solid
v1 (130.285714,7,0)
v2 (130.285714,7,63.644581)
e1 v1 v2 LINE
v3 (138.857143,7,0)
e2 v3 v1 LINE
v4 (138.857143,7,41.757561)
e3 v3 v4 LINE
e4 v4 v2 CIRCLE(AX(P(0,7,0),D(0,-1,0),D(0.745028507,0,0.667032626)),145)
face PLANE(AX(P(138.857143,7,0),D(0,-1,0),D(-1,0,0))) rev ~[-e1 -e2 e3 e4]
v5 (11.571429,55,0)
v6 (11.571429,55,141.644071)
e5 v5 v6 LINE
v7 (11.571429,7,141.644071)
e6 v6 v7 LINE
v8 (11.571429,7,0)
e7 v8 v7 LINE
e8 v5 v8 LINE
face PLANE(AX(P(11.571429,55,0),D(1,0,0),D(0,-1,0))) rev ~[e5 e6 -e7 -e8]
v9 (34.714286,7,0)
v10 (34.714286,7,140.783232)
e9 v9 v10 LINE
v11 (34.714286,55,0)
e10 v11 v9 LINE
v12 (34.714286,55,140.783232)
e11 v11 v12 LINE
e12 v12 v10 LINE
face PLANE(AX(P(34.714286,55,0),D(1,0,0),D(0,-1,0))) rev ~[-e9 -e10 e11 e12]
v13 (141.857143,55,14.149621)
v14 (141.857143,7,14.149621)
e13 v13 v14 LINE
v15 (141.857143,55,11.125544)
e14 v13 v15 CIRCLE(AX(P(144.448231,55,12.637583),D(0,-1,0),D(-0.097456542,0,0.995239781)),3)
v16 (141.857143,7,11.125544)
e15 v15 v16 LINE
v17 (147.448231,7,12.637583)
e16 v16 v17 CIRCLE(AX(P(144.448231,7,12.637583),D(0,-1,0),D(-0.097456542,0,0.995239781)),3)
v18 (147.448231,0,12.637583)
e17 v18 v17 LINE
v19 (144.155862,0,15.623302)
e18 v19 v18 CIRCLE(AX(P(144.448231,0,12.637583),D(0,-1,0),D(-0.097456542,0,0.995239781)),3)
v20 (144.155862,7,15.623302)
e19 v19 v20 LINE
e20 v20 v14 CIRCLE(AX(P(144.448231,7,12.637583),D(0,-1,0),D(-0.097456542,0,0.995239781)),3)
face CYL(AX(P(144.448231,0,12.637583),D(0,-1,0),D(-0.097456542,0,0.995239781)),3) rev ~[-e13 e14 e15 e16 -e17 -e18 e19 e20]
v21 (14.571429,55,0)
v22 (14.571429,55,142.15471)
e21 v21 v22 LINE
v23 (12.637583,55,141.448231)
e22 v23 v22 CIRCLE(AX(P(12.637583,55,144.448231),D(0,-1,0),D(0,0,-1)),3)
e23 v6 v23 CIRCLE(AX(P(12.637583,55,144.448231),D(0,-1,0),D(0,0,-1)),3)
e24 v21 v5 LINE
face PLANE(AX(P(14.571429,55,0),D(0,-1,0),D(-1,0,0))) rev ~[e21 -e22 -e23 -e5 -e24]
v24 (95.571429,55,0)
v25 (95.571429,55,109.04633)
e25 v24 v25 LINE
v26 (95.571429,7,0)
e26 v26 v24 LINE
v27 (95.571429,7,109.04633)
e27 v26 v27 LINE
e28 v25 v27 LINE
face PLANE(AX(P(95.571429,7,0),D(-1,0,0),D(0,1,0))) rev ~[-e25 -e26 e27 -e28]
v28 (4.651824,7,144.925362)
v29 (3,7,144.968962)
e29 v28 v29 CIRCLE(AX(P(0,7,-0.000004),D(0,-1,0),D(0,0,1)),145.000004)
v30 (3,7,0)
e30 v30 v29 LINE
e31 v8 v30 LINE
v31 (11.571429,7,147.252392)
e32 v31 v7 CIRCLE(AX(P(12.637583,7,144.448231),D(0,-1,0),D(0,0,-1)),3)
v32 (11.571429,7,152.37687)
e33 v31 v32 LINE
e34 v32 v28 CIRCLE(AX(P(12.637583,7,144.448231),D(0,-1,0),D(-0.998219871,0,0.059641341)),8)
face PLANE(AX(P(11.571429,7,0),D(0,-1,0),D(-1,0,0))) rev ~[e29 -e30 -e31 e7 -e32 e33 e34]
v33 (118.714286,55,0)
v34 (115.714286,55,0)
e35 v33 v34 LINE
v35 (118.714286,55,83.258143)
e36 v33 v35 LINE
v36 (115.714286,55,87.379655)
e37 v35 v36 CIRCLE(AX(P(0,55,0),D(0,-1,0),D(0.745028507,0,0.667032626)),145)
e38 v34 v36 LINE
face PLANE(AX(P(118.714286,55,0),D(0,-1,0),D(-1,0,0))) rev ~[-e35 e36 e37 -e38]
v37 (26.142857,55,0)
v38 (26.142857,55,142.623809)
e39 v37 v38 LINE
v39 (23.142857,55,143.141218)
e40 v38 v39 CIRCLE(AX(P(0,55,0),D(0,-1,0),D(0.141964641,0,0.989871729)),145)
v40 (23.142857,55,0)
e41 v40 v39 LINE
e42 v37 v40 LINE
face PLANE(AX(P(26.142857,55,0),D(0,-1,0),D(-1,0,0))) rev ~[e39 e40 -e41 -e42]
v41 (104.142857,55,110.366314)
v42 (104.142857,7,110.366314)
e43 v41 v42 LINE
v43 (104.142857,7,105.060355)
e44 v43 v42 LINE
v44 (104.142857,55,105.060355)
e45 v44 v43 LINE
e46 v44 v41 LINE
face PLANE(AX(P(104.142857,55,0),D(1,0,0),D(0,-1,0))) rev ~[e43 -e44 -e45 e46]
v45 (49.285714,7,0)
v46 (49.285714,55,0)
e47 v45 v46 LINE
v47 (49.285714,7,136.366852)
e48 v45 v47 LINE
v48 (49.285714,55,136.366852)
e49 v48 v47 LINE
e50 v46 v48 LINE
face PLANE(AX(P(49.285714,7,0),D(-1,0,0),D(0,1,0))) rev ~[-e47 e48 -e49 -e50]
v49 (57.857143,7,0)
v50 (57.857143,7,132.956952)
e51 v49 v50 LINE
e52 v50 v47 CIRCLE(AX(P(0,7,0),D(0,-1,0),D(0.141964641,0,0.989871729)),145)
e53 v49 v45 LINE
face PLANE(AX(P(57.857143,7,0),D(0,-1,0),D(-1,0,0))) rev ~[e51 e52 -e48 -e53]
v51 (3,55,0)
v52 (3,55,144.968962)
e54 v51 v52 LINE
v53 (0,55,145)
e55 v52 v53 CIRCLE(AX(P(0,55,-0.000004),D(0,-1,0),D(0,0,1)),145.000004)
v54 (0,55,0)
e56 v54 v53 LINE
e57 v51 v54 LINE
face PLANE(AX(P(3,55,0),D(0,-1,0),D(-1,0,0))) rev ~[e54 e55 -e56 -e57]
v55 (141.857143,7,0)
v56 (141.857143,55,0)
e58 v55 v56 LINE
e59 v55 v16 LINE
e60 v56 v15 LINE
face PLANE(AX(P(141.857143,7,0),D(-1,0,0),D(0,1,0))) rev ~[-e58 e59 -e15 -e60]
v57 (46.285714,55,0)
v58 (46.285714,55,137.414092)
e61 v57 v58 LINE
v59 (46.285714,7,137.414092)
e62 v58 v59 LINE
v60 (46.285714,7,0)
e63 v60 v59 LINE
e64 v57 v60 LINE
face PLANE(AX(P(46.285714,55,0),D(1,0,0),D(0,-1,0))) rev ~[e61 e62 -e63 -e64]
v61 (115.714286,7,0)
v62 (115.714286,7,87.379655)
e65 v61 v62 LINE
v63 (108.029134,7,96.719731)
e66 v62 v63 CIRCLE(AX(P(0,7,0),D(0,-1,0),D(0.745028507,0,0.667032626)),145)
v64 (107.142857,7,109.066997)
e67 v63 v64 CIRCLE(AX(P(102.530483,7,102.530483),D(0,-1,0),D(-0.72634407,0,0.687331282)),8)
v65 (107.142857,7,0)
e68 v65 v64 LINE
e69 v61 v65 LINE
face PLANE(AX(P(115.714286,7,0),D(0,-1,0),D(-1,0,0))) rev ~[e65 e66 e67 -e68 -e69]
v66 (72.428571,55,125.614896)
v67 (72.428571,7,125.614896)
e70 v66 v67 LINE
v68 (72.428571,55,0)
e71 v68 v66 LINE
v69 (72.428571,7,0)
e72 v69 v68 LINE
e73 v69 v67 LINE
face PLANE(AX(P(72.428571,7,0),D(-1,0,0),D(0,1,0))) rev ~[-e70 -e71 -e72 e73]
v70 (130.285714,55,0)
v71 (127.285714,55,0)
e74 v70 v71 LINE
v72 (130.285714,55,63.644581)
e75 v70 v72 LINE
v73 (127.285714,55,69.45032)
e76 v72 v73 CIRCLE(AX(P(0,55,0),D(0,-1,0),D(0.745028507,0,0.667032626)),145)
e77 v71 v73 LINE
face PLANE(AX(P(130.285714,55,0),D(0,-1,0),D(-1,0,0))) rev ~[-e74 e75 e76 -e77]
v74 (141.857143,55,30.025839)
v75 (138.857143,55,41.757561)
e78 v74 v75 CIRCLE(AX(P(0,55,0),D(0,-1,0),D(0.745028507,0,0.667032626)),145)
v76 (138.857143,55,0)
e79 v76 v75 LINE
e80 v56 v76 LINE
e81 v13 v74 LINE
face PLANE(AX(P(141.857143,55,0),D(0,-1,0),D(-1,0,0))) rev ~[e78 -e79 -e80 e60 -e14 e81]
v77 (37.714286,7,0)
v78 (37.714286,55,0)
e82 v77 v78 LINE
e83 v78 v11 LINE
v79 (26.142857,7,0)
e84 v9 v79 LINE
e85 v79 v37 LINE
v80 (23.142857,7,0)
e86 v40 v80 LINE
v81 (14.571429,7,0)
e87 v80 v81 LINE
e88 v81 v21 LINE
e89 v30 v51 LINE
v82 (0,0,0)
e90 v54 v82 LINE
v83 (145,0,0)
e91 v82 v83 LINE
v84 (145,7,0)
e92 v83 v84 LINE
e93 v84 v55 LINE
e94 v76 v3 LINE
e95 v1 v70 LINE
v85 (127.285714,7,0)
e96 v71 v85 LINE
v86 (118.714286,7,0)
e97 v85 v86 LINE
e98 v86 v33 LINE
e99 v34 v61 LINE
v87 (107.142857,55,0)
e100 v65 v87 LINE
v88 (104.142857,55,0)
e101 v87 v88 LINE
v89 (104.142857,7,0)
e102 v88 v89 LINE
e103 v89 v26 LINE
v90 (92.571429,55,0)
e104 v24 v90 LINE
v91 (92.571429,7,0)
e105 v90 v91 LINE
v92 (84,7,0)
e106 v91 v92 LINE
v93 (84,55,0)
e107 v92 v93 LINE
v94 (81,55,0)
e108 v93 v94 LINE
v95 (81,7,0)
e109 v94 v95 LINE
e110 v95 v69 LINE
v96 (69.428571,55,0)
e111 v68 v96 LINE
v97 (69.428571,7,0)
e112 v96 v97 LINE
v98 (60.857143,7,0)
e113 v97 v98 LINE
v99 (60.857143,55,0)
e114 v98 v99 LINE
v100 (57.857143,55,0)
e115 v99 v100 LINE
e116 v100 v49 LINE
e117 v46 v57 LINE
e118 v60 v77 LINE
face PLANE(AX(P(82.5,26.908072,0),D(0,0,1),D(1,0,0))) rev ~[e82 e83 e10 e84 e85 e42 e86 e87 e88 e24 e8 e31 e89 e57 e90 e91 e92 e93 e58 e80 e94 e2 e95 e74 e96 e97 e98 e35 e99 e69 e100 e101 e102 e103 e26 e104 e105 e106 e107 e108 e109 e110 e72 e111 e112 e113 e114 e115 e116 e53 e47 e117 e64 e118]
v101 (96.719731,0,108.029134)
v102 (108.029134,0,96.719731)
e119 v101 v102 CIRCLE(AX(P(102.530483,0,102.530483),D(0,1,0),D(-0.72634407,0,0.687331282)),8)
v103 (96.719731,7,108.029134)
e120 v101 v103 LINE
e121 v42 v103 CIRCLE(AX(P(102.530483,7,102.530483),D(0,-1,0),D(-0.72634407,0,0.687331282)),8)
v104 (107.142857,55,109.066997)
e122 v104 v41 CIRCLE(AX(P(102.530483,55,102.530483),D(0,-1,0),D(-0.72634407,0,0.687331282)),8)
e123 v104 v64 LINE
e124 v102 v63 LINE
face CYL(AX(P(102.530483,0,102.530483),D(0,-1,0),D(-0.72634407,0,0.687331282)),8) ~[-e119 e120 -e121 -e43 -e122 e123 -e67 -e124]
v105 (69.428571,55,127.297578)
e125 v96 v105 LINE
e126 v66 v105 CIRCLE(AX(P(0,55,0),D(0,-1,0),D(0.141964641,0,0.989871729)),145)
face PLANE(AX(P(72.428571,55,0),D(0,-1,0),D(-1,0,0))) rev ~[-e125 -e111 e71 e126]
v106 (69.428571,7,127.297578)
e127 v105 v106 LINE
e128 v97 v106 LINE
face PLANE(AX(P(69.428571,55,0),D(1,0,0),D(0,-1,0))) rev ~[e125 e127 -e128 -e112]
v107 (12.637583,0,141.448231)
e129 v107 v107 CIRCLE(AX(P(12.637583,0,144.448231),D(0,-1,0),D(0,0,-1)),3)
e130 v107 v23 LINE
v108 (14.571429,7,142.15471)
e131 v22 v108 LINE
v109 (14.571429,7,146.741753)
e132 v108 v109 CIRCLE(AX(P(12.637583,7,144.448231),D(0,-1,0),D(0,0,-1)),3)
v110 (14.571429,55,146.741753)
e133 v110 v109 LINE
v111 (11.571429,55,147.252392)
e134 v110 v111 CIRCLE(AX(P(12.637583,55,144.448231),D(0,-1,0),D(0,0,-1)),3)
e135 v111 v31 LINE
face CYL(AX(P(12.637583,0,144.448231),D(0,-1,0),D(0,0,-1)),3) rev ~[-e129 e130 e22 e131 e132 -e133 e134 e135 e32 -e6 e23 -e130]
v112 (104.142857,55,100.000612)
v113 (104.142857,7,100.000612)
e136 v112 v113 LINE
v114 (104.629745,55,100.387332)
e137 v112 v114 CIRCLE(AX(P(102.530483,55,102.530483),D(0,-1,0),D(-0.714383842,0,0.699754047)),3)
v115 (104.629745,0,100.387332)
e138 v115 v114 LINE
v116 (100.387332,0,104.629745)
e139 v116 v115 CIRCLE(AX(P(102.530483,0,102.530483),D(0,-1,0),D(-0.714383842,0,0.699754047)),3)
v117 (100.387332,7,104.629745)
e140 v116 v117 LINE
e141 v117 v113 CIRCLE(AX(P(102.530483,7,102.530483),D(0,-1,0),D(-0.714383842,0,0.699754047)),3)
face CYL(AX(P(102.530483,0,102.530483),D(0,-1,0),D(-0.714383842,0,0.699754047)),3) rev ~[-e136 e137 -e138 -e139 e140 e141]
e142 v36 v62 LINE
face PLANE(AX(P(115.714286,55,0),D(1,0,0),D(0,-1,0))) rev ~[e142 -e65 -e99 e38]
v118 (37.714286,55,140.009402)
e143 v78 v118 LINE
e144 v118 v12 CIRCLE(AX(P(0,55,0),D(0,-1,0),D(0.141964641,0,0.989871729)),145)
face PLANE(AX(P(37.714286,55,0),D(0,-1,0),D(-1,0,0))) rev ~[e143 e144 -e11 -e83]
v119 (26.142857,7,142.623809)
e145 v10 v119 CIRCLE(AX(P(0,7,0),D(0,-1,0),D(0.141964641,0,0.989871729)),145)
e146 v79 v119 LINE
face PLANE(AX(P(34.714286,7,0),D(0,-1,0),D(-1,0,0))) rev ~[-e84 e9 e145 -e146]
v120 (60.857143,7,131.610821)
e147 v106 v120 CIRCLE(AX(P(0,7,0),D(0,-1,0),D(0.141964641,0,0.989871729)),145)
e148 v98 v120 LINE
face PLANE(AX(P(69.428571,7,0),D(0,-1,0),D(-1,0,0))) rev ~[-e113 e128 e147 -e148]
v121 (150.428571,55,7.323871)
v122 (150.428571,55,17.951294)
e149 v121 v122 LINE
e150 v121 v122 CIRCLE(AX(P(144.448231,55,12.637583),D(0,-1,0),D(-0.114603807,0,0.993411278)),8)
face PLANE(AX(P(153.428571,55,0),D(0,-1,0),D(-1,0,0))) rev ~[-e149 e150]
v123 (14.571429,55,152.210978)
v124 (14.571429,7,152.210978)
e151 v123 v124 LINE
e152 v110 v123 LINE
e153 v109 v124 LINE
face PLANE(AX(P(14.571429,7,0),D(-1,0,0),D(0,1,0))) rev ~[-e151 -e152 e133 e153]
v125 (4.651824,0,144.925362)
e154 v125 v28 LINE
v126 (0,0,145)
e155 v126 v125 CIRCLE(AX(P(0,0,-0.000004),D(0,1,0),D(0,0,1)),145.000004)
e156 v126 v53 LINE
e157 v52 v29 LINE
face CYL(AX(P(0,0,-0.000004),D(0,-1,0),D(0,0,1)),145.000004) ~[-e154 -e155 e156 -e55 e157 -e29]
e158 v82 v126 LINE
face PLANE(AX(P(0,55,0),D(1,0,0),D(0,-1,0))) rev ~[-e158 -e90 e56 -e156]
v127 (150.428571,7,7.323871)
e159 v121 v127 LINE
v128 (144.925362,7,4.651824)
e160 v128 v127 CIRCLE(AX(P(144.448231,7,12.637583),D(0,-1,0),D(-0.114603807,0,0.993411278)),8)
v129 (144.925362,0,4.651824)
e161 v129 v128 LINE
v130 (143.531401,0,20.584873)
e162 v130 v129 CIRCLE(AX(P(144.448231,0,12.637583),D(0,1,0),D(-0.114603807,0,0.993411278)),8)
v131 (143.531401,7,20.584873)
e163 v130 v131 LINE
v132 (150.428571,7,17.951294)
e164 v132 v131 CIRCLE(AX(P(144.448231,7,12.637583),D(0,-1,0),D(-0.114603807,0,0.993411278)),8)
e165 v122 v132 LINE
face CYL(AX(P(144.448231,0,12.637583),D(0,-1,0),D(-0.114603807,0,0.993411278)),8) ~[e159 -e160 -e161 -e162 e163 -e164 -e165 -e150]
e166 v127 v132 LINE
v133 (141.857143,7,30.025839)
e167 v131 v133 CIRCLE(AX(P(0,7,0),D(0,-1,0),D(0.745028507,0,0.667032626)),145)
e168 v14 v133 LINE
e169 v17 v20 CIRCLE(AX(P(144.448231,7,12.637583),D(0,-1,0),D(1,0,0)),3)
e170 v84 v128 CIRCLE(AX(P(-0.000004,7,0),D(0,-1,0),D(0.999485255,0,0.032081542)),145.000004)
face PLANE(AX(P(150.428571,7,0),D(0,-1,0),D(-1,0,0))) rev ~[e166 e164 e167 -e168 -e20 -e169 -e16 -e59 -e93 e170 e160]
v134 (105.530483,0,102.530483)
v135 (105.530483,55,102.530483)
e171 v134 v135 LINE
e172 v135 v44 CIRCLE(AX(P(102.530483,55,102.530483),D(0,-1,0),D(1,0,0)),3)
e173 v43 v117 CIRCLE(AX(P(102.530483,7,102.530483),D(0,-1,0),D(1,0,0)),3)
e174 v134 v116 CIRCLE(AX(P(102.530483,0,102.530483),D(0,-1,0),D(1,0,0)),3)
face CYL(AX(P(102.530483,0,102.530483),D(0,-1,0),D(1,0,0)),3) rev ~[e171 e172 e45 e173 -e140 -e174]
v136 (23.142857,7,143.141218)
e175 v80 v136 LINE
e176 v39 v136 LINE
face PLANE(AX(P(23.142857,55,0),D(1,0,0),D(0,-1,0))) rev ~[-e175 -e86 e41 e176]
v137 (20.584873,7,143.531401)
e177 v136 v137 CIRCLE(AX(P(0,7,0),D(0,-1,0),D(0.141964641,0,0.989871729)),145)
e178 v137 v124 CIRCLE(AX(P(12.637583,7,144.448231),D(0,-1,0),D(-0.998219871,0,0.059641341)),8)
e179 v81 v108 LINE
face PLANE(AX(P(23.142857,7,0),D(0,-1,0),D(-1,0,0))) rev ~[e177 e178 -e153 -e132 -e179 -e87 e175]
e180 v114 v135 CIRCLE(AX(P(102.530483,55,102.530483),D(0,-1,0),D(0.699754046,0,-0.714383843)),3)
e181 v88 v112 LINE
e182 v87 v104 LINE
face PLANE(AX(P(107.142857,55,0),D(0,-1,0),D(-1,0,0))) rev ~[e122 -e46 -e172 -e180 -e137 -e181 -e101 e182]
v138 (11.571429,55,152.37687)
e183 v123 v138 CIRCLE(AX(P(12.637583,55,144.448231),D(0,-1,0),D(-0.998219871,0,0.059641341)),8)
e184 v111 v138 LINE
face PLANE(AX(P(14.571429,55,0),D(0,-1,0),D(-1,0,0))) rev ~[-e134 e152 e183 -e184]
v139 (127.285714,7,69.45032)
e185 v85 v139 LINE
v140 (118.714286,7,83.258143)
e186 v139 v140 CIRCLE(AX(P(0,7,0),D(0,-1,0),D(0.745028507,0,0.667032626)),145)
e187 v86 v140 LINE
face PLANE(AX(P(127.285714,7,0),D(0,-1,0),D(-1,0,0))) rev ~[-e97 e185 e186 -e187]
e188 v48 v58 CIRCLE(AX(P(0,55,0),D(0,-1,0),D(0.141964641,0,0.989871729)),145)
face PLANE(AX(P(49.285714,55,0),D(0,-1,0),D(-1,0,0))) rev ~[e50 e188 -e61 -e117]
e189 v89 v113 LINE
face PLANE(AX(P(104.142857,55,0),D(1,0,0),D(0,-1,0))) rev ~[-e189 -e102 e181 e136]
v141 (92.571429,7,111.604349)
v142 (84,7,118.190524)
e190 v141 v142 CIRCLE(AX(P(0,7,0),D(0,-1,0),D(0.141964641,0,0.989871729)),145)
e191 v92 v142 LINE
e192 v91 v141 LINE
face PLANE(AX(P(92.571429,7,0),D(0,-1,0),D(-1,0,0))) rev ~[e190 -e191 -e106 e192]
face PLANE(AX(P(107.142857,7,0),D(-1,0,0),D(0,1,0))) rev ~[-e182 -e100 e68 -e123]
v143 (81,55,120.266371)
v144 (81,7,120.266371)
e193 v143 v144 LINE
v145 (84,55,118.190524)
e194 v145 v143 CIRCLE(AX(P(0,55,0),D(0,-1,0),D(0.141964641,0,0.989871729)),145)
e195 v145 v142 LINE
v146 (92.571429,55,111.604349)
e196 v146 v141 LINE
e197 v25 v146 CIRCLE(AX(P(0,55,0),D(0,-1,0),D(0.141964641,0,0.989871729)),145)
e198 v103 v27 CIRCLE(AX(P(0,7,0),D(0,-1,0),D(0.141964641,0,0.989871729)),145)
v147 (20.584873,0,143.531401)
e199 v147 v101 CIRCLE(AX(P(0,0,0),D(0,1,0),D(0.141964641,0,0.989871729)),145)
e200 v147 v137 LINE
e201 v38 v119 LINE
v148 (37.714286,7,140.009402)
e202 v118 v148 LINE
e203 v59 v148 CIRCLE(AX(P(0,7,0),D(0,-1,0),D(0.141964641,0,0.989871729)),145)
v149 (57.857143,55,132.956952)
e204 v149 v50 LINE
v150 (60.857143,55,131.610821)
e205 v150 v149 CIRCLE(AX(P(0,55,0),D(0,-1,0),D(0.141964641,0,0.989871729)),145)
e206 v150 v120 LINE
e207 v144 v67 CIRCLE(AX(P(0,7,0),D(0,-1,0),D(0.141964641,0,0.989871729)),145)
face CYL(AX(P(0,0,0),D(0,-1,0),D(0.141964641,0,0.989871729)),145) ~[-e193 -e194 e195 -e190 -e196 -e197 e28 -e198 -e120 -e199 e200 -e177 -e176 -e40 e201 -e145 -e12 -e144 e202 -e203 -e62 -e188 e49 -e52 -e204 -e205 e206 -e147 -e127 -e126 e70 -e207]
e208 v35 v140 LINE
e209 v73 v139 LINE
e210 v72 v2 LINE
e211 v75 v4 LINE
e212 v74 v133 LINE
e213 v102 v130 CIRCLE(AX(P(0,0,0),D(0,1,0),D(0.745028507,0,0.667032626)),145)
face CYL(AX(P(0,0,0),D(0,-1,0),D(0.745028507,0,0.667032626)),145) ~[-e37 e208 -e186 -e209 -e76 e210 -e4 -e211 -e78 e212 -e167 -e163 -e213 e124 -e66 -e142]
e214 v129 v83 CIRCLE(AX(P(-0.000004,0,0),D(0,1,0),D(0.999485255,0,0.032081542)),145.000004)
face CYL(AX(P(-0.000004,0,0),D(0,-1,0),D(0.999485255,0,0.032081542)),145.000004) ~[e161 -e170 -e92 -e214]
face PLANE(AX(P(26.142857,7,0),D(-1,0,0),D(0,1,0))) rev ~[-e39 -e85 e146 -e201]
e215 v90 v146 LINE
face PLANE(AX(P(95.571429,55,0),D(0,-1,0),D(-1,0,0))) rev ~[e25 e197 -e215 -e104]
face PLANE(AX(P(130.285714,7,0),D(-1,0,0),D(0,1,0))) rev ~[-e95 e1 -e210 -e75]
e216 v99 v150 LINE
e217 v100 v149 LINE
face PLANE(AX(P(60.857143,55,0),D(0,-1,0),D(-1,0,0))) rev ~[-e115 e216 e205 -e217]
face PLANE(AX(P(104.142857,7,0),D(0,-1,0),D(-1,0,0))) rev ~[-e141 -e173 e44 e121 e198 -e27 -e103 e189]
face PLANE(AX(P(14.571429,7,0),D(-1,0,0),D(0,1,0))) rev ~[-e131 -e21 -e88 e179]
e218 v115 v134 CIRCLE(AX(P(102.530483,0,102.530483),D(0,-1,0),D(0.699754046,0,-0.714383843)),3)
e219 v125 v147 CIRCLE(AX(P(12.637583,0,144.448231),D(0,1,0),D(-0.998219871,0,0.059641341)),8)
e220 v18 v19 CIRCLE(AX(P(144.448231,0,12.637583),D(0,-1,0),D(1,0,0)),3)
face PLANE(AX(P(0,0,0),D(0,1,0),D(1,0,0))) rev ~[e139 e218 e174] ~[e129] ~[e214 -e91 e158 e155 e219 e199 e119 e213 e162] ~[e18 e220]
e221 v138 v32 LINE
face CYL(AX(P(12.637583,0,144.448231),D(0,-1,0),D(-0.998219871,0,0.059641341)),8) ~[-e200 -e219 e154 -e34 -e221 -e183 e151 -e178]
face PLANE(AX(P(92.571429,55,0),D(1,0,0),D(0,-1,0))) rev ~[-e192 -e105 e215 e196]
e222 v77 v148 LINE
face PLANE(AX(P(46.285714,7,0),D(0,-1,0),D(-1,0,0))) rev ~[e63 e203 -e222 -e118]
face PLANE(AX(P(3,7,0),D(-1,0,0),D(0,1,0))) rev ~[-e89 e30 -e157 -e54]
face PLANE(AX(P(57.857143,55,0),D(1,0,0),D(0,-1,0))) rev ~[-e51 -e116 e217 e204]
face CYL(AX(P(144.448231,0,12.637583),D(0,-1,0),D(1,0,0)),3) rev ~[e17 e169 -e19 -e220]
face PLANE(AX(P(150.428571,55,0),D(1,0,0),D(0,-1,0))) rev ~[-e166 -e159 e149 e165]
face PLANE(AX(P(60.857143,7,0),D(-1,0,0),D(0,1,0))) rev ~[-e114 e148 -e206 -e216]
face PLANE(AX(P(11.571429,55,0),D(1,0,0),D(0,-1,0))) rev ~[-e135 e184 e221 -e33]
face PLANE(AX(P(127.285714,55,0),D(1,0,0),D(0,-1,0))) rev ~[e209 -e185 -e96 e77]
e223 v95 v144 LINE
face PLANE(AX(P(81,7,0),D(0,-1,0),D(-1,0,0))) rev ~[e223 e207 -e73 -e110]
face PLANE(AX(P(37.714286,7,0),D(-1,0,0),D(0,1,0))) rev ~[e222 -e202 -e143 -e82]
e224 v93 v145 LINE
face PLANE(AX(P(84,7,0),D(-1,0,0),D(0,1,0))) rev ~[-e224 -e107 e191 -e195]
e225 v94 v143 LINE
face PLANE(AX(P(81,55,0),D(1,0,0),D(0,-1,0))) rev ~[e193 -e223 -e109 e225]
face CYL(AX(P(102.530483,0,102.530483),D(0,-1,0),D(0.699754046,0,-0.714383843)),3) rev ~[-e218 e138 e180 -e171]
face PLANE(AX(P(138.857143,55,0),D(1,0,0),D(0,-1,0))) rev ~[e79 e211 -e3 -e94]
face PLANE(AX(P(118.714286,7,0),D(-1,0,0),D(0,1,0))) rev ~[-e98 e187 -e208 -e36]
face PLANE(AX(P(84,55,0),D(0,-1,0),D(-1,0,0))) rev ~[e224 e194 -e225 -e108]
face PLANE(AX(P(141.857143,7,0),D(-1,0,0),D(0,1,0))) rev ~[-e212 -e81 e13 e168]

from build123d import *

# Parameters (mm, degrees)
BOSS_EXTRUDE1_DEPTH = 1000
SKETCH2_R           = 3
CUT_EXTRUDE2_DEPTH  = 1016.012315196


with BuildPart() as part:
    # Sketch1 → Boss-Extrude1 (new body)
    with BuildSketch(Plane.XY):
        Polygon((11.571428571, 55), (11.571428571, 7), (3, 7), (3, 55), (0, 55), (0, 7), (0, 0), (165, 0), (165, 7), (165, 10), (165, 55), (162, 55), (162, 7), (153.428571429, 7), (153.428571429, 55), (150.428571429, 55), (150.428571429, 7), (141.857142857, 7), (141.857142857, 55), (138.857142857, 55), (138.857142857, 7), (130.285714286, 7), (130.285714286, 55), (127.285714286, 55), (127.285714286, 7), (118.714285714, 7), (118.714285714, 55), (115.714285714, 55), (115.714285714, 7), (107.142857143, 7), (107.142857143, 55), (104.142857143, 55), (104.142857143, 7), (95.571428571, 7), (95.571428571, 55), (92.571428571, 55), (92.571428571, 7), (84, 7), (84, 55), (81, 55), (81, 7), (72.428571429, 7), (72.428571429, 55), (69.428571429, 55), (69.428571429, 7), (60.857142857, 7), (60.857142857, 55), (57.857142857, 55), (57.857142857, 7), (49.285714286, 7), (49.285714286, 55), (46.285714286, 55), (46.285714286, 7), (37.714285714, 7), (37.714285714, 55), (34.714285714, 55), (34.714285714, 7), (26.142857143, 7), (26.142857143, 55), (23.142857143, 55), (23.142857143, 7), (14.571428571, 7), (14.571428571, 55), align=None)
    extrude(amount=BOSS_EXTRUDE1_DEPTH)

    # Sketch2 → Cut-Extrude2 (cut, through all)
    with BuildSketch(Plane.XZ):
        with BuildLine():
            Line((0, 1000), (0, 145))
            ThreePointArc((0, 145), (2.326211237, 144.981339286), (4.651823732, 144.925361949))
            ThreePointArc((4.651823732, 144.925361949), (13.33482864, 152.417788808), (20.584872923, 143.531400769))
            ThreePointArc((20.584872923, 143.531400769), (61.279647952, 131.41462912), (96.71973071, 108.02913353))
            ThreePointArc((96.71973071, 108.02913353), (108.187337522, 108.187337522), (108.02913353, 96.71973071))
            ThreePointArc((108.02913353, 96.71973071), (131.41462912, 61.279647952), (143.531400769, 20.584872923))
            ThreePointArc((143.531400769, 20.584872923), (152.417788808, 13.33482864), (144.925361949, 4.651823732))
            ThreePointArc((144.925361949, 4.651823732), (144.981339286, 2.326211237), (145, 0))
            Line((145, 0), (165, 0))
            Line((165, 0), (165, 1000))
            Line((165, 1000), (0, 1000))
        make_face()
        with BuildLine():
            ThreePointArc((144.678768073, 9.646453687), (146.649550209, 10.599398525), (147.448231223, 12.637582698))
            ThreePointArc((147.448231223, 12.637582698), (146.46353407, 14.859868557), (144.155861599, 15.623302043))
            ThreePointArc((144.155861599, 15.623302043), (144.448231223, 12.637582698), (144.678768073, 9.646453687))
        make_face()
        with BuildLine():
            ThreePointArc((144.678768073, 9.646453687), (144.448231223, 12.637582698), (144.155861599, 15.623302043))
            ThreePointArc((144.155861599, 15.623302043), (141.459647129, 12.37611547), (144.678768073, 9.646453687))
        make_face()
        with BuildLine():
            ThreePointArc((104.629745412, 100.387331745), (105.296146522, 101.368112079), (105.530483272, 102.530483272))
            ThreePointArc((105.530483272, 102.530483272), (103.664181958, 105.308023063), (100.387331745, 104.629745412))
            ThreePointArc((100.387331745, 104.629745412), (102.530483272, 102.530483272), (104.629745412, 100.387331745))
        make_face()
        with BuildLine():
            ThreePointArc((104.629745412, 100.387331745), (102.530483272, 102.530483272), (100.387331745, 104.629745412))
            ThreePointArc((100.387331745, 104.629745412), (100.409162928, 100.409162928), (104.629745412, 100.387331745))
        make_face()
        with Locations(Location((12.637582698, 144.448231223, 0), (0, 0, 270))):
            Circle(SKETCH2_R)
    extrude(amount=-CUT_EXTRUDE2_DEPTH, mode=Mode.SUBTRACT)


solid = part.part
